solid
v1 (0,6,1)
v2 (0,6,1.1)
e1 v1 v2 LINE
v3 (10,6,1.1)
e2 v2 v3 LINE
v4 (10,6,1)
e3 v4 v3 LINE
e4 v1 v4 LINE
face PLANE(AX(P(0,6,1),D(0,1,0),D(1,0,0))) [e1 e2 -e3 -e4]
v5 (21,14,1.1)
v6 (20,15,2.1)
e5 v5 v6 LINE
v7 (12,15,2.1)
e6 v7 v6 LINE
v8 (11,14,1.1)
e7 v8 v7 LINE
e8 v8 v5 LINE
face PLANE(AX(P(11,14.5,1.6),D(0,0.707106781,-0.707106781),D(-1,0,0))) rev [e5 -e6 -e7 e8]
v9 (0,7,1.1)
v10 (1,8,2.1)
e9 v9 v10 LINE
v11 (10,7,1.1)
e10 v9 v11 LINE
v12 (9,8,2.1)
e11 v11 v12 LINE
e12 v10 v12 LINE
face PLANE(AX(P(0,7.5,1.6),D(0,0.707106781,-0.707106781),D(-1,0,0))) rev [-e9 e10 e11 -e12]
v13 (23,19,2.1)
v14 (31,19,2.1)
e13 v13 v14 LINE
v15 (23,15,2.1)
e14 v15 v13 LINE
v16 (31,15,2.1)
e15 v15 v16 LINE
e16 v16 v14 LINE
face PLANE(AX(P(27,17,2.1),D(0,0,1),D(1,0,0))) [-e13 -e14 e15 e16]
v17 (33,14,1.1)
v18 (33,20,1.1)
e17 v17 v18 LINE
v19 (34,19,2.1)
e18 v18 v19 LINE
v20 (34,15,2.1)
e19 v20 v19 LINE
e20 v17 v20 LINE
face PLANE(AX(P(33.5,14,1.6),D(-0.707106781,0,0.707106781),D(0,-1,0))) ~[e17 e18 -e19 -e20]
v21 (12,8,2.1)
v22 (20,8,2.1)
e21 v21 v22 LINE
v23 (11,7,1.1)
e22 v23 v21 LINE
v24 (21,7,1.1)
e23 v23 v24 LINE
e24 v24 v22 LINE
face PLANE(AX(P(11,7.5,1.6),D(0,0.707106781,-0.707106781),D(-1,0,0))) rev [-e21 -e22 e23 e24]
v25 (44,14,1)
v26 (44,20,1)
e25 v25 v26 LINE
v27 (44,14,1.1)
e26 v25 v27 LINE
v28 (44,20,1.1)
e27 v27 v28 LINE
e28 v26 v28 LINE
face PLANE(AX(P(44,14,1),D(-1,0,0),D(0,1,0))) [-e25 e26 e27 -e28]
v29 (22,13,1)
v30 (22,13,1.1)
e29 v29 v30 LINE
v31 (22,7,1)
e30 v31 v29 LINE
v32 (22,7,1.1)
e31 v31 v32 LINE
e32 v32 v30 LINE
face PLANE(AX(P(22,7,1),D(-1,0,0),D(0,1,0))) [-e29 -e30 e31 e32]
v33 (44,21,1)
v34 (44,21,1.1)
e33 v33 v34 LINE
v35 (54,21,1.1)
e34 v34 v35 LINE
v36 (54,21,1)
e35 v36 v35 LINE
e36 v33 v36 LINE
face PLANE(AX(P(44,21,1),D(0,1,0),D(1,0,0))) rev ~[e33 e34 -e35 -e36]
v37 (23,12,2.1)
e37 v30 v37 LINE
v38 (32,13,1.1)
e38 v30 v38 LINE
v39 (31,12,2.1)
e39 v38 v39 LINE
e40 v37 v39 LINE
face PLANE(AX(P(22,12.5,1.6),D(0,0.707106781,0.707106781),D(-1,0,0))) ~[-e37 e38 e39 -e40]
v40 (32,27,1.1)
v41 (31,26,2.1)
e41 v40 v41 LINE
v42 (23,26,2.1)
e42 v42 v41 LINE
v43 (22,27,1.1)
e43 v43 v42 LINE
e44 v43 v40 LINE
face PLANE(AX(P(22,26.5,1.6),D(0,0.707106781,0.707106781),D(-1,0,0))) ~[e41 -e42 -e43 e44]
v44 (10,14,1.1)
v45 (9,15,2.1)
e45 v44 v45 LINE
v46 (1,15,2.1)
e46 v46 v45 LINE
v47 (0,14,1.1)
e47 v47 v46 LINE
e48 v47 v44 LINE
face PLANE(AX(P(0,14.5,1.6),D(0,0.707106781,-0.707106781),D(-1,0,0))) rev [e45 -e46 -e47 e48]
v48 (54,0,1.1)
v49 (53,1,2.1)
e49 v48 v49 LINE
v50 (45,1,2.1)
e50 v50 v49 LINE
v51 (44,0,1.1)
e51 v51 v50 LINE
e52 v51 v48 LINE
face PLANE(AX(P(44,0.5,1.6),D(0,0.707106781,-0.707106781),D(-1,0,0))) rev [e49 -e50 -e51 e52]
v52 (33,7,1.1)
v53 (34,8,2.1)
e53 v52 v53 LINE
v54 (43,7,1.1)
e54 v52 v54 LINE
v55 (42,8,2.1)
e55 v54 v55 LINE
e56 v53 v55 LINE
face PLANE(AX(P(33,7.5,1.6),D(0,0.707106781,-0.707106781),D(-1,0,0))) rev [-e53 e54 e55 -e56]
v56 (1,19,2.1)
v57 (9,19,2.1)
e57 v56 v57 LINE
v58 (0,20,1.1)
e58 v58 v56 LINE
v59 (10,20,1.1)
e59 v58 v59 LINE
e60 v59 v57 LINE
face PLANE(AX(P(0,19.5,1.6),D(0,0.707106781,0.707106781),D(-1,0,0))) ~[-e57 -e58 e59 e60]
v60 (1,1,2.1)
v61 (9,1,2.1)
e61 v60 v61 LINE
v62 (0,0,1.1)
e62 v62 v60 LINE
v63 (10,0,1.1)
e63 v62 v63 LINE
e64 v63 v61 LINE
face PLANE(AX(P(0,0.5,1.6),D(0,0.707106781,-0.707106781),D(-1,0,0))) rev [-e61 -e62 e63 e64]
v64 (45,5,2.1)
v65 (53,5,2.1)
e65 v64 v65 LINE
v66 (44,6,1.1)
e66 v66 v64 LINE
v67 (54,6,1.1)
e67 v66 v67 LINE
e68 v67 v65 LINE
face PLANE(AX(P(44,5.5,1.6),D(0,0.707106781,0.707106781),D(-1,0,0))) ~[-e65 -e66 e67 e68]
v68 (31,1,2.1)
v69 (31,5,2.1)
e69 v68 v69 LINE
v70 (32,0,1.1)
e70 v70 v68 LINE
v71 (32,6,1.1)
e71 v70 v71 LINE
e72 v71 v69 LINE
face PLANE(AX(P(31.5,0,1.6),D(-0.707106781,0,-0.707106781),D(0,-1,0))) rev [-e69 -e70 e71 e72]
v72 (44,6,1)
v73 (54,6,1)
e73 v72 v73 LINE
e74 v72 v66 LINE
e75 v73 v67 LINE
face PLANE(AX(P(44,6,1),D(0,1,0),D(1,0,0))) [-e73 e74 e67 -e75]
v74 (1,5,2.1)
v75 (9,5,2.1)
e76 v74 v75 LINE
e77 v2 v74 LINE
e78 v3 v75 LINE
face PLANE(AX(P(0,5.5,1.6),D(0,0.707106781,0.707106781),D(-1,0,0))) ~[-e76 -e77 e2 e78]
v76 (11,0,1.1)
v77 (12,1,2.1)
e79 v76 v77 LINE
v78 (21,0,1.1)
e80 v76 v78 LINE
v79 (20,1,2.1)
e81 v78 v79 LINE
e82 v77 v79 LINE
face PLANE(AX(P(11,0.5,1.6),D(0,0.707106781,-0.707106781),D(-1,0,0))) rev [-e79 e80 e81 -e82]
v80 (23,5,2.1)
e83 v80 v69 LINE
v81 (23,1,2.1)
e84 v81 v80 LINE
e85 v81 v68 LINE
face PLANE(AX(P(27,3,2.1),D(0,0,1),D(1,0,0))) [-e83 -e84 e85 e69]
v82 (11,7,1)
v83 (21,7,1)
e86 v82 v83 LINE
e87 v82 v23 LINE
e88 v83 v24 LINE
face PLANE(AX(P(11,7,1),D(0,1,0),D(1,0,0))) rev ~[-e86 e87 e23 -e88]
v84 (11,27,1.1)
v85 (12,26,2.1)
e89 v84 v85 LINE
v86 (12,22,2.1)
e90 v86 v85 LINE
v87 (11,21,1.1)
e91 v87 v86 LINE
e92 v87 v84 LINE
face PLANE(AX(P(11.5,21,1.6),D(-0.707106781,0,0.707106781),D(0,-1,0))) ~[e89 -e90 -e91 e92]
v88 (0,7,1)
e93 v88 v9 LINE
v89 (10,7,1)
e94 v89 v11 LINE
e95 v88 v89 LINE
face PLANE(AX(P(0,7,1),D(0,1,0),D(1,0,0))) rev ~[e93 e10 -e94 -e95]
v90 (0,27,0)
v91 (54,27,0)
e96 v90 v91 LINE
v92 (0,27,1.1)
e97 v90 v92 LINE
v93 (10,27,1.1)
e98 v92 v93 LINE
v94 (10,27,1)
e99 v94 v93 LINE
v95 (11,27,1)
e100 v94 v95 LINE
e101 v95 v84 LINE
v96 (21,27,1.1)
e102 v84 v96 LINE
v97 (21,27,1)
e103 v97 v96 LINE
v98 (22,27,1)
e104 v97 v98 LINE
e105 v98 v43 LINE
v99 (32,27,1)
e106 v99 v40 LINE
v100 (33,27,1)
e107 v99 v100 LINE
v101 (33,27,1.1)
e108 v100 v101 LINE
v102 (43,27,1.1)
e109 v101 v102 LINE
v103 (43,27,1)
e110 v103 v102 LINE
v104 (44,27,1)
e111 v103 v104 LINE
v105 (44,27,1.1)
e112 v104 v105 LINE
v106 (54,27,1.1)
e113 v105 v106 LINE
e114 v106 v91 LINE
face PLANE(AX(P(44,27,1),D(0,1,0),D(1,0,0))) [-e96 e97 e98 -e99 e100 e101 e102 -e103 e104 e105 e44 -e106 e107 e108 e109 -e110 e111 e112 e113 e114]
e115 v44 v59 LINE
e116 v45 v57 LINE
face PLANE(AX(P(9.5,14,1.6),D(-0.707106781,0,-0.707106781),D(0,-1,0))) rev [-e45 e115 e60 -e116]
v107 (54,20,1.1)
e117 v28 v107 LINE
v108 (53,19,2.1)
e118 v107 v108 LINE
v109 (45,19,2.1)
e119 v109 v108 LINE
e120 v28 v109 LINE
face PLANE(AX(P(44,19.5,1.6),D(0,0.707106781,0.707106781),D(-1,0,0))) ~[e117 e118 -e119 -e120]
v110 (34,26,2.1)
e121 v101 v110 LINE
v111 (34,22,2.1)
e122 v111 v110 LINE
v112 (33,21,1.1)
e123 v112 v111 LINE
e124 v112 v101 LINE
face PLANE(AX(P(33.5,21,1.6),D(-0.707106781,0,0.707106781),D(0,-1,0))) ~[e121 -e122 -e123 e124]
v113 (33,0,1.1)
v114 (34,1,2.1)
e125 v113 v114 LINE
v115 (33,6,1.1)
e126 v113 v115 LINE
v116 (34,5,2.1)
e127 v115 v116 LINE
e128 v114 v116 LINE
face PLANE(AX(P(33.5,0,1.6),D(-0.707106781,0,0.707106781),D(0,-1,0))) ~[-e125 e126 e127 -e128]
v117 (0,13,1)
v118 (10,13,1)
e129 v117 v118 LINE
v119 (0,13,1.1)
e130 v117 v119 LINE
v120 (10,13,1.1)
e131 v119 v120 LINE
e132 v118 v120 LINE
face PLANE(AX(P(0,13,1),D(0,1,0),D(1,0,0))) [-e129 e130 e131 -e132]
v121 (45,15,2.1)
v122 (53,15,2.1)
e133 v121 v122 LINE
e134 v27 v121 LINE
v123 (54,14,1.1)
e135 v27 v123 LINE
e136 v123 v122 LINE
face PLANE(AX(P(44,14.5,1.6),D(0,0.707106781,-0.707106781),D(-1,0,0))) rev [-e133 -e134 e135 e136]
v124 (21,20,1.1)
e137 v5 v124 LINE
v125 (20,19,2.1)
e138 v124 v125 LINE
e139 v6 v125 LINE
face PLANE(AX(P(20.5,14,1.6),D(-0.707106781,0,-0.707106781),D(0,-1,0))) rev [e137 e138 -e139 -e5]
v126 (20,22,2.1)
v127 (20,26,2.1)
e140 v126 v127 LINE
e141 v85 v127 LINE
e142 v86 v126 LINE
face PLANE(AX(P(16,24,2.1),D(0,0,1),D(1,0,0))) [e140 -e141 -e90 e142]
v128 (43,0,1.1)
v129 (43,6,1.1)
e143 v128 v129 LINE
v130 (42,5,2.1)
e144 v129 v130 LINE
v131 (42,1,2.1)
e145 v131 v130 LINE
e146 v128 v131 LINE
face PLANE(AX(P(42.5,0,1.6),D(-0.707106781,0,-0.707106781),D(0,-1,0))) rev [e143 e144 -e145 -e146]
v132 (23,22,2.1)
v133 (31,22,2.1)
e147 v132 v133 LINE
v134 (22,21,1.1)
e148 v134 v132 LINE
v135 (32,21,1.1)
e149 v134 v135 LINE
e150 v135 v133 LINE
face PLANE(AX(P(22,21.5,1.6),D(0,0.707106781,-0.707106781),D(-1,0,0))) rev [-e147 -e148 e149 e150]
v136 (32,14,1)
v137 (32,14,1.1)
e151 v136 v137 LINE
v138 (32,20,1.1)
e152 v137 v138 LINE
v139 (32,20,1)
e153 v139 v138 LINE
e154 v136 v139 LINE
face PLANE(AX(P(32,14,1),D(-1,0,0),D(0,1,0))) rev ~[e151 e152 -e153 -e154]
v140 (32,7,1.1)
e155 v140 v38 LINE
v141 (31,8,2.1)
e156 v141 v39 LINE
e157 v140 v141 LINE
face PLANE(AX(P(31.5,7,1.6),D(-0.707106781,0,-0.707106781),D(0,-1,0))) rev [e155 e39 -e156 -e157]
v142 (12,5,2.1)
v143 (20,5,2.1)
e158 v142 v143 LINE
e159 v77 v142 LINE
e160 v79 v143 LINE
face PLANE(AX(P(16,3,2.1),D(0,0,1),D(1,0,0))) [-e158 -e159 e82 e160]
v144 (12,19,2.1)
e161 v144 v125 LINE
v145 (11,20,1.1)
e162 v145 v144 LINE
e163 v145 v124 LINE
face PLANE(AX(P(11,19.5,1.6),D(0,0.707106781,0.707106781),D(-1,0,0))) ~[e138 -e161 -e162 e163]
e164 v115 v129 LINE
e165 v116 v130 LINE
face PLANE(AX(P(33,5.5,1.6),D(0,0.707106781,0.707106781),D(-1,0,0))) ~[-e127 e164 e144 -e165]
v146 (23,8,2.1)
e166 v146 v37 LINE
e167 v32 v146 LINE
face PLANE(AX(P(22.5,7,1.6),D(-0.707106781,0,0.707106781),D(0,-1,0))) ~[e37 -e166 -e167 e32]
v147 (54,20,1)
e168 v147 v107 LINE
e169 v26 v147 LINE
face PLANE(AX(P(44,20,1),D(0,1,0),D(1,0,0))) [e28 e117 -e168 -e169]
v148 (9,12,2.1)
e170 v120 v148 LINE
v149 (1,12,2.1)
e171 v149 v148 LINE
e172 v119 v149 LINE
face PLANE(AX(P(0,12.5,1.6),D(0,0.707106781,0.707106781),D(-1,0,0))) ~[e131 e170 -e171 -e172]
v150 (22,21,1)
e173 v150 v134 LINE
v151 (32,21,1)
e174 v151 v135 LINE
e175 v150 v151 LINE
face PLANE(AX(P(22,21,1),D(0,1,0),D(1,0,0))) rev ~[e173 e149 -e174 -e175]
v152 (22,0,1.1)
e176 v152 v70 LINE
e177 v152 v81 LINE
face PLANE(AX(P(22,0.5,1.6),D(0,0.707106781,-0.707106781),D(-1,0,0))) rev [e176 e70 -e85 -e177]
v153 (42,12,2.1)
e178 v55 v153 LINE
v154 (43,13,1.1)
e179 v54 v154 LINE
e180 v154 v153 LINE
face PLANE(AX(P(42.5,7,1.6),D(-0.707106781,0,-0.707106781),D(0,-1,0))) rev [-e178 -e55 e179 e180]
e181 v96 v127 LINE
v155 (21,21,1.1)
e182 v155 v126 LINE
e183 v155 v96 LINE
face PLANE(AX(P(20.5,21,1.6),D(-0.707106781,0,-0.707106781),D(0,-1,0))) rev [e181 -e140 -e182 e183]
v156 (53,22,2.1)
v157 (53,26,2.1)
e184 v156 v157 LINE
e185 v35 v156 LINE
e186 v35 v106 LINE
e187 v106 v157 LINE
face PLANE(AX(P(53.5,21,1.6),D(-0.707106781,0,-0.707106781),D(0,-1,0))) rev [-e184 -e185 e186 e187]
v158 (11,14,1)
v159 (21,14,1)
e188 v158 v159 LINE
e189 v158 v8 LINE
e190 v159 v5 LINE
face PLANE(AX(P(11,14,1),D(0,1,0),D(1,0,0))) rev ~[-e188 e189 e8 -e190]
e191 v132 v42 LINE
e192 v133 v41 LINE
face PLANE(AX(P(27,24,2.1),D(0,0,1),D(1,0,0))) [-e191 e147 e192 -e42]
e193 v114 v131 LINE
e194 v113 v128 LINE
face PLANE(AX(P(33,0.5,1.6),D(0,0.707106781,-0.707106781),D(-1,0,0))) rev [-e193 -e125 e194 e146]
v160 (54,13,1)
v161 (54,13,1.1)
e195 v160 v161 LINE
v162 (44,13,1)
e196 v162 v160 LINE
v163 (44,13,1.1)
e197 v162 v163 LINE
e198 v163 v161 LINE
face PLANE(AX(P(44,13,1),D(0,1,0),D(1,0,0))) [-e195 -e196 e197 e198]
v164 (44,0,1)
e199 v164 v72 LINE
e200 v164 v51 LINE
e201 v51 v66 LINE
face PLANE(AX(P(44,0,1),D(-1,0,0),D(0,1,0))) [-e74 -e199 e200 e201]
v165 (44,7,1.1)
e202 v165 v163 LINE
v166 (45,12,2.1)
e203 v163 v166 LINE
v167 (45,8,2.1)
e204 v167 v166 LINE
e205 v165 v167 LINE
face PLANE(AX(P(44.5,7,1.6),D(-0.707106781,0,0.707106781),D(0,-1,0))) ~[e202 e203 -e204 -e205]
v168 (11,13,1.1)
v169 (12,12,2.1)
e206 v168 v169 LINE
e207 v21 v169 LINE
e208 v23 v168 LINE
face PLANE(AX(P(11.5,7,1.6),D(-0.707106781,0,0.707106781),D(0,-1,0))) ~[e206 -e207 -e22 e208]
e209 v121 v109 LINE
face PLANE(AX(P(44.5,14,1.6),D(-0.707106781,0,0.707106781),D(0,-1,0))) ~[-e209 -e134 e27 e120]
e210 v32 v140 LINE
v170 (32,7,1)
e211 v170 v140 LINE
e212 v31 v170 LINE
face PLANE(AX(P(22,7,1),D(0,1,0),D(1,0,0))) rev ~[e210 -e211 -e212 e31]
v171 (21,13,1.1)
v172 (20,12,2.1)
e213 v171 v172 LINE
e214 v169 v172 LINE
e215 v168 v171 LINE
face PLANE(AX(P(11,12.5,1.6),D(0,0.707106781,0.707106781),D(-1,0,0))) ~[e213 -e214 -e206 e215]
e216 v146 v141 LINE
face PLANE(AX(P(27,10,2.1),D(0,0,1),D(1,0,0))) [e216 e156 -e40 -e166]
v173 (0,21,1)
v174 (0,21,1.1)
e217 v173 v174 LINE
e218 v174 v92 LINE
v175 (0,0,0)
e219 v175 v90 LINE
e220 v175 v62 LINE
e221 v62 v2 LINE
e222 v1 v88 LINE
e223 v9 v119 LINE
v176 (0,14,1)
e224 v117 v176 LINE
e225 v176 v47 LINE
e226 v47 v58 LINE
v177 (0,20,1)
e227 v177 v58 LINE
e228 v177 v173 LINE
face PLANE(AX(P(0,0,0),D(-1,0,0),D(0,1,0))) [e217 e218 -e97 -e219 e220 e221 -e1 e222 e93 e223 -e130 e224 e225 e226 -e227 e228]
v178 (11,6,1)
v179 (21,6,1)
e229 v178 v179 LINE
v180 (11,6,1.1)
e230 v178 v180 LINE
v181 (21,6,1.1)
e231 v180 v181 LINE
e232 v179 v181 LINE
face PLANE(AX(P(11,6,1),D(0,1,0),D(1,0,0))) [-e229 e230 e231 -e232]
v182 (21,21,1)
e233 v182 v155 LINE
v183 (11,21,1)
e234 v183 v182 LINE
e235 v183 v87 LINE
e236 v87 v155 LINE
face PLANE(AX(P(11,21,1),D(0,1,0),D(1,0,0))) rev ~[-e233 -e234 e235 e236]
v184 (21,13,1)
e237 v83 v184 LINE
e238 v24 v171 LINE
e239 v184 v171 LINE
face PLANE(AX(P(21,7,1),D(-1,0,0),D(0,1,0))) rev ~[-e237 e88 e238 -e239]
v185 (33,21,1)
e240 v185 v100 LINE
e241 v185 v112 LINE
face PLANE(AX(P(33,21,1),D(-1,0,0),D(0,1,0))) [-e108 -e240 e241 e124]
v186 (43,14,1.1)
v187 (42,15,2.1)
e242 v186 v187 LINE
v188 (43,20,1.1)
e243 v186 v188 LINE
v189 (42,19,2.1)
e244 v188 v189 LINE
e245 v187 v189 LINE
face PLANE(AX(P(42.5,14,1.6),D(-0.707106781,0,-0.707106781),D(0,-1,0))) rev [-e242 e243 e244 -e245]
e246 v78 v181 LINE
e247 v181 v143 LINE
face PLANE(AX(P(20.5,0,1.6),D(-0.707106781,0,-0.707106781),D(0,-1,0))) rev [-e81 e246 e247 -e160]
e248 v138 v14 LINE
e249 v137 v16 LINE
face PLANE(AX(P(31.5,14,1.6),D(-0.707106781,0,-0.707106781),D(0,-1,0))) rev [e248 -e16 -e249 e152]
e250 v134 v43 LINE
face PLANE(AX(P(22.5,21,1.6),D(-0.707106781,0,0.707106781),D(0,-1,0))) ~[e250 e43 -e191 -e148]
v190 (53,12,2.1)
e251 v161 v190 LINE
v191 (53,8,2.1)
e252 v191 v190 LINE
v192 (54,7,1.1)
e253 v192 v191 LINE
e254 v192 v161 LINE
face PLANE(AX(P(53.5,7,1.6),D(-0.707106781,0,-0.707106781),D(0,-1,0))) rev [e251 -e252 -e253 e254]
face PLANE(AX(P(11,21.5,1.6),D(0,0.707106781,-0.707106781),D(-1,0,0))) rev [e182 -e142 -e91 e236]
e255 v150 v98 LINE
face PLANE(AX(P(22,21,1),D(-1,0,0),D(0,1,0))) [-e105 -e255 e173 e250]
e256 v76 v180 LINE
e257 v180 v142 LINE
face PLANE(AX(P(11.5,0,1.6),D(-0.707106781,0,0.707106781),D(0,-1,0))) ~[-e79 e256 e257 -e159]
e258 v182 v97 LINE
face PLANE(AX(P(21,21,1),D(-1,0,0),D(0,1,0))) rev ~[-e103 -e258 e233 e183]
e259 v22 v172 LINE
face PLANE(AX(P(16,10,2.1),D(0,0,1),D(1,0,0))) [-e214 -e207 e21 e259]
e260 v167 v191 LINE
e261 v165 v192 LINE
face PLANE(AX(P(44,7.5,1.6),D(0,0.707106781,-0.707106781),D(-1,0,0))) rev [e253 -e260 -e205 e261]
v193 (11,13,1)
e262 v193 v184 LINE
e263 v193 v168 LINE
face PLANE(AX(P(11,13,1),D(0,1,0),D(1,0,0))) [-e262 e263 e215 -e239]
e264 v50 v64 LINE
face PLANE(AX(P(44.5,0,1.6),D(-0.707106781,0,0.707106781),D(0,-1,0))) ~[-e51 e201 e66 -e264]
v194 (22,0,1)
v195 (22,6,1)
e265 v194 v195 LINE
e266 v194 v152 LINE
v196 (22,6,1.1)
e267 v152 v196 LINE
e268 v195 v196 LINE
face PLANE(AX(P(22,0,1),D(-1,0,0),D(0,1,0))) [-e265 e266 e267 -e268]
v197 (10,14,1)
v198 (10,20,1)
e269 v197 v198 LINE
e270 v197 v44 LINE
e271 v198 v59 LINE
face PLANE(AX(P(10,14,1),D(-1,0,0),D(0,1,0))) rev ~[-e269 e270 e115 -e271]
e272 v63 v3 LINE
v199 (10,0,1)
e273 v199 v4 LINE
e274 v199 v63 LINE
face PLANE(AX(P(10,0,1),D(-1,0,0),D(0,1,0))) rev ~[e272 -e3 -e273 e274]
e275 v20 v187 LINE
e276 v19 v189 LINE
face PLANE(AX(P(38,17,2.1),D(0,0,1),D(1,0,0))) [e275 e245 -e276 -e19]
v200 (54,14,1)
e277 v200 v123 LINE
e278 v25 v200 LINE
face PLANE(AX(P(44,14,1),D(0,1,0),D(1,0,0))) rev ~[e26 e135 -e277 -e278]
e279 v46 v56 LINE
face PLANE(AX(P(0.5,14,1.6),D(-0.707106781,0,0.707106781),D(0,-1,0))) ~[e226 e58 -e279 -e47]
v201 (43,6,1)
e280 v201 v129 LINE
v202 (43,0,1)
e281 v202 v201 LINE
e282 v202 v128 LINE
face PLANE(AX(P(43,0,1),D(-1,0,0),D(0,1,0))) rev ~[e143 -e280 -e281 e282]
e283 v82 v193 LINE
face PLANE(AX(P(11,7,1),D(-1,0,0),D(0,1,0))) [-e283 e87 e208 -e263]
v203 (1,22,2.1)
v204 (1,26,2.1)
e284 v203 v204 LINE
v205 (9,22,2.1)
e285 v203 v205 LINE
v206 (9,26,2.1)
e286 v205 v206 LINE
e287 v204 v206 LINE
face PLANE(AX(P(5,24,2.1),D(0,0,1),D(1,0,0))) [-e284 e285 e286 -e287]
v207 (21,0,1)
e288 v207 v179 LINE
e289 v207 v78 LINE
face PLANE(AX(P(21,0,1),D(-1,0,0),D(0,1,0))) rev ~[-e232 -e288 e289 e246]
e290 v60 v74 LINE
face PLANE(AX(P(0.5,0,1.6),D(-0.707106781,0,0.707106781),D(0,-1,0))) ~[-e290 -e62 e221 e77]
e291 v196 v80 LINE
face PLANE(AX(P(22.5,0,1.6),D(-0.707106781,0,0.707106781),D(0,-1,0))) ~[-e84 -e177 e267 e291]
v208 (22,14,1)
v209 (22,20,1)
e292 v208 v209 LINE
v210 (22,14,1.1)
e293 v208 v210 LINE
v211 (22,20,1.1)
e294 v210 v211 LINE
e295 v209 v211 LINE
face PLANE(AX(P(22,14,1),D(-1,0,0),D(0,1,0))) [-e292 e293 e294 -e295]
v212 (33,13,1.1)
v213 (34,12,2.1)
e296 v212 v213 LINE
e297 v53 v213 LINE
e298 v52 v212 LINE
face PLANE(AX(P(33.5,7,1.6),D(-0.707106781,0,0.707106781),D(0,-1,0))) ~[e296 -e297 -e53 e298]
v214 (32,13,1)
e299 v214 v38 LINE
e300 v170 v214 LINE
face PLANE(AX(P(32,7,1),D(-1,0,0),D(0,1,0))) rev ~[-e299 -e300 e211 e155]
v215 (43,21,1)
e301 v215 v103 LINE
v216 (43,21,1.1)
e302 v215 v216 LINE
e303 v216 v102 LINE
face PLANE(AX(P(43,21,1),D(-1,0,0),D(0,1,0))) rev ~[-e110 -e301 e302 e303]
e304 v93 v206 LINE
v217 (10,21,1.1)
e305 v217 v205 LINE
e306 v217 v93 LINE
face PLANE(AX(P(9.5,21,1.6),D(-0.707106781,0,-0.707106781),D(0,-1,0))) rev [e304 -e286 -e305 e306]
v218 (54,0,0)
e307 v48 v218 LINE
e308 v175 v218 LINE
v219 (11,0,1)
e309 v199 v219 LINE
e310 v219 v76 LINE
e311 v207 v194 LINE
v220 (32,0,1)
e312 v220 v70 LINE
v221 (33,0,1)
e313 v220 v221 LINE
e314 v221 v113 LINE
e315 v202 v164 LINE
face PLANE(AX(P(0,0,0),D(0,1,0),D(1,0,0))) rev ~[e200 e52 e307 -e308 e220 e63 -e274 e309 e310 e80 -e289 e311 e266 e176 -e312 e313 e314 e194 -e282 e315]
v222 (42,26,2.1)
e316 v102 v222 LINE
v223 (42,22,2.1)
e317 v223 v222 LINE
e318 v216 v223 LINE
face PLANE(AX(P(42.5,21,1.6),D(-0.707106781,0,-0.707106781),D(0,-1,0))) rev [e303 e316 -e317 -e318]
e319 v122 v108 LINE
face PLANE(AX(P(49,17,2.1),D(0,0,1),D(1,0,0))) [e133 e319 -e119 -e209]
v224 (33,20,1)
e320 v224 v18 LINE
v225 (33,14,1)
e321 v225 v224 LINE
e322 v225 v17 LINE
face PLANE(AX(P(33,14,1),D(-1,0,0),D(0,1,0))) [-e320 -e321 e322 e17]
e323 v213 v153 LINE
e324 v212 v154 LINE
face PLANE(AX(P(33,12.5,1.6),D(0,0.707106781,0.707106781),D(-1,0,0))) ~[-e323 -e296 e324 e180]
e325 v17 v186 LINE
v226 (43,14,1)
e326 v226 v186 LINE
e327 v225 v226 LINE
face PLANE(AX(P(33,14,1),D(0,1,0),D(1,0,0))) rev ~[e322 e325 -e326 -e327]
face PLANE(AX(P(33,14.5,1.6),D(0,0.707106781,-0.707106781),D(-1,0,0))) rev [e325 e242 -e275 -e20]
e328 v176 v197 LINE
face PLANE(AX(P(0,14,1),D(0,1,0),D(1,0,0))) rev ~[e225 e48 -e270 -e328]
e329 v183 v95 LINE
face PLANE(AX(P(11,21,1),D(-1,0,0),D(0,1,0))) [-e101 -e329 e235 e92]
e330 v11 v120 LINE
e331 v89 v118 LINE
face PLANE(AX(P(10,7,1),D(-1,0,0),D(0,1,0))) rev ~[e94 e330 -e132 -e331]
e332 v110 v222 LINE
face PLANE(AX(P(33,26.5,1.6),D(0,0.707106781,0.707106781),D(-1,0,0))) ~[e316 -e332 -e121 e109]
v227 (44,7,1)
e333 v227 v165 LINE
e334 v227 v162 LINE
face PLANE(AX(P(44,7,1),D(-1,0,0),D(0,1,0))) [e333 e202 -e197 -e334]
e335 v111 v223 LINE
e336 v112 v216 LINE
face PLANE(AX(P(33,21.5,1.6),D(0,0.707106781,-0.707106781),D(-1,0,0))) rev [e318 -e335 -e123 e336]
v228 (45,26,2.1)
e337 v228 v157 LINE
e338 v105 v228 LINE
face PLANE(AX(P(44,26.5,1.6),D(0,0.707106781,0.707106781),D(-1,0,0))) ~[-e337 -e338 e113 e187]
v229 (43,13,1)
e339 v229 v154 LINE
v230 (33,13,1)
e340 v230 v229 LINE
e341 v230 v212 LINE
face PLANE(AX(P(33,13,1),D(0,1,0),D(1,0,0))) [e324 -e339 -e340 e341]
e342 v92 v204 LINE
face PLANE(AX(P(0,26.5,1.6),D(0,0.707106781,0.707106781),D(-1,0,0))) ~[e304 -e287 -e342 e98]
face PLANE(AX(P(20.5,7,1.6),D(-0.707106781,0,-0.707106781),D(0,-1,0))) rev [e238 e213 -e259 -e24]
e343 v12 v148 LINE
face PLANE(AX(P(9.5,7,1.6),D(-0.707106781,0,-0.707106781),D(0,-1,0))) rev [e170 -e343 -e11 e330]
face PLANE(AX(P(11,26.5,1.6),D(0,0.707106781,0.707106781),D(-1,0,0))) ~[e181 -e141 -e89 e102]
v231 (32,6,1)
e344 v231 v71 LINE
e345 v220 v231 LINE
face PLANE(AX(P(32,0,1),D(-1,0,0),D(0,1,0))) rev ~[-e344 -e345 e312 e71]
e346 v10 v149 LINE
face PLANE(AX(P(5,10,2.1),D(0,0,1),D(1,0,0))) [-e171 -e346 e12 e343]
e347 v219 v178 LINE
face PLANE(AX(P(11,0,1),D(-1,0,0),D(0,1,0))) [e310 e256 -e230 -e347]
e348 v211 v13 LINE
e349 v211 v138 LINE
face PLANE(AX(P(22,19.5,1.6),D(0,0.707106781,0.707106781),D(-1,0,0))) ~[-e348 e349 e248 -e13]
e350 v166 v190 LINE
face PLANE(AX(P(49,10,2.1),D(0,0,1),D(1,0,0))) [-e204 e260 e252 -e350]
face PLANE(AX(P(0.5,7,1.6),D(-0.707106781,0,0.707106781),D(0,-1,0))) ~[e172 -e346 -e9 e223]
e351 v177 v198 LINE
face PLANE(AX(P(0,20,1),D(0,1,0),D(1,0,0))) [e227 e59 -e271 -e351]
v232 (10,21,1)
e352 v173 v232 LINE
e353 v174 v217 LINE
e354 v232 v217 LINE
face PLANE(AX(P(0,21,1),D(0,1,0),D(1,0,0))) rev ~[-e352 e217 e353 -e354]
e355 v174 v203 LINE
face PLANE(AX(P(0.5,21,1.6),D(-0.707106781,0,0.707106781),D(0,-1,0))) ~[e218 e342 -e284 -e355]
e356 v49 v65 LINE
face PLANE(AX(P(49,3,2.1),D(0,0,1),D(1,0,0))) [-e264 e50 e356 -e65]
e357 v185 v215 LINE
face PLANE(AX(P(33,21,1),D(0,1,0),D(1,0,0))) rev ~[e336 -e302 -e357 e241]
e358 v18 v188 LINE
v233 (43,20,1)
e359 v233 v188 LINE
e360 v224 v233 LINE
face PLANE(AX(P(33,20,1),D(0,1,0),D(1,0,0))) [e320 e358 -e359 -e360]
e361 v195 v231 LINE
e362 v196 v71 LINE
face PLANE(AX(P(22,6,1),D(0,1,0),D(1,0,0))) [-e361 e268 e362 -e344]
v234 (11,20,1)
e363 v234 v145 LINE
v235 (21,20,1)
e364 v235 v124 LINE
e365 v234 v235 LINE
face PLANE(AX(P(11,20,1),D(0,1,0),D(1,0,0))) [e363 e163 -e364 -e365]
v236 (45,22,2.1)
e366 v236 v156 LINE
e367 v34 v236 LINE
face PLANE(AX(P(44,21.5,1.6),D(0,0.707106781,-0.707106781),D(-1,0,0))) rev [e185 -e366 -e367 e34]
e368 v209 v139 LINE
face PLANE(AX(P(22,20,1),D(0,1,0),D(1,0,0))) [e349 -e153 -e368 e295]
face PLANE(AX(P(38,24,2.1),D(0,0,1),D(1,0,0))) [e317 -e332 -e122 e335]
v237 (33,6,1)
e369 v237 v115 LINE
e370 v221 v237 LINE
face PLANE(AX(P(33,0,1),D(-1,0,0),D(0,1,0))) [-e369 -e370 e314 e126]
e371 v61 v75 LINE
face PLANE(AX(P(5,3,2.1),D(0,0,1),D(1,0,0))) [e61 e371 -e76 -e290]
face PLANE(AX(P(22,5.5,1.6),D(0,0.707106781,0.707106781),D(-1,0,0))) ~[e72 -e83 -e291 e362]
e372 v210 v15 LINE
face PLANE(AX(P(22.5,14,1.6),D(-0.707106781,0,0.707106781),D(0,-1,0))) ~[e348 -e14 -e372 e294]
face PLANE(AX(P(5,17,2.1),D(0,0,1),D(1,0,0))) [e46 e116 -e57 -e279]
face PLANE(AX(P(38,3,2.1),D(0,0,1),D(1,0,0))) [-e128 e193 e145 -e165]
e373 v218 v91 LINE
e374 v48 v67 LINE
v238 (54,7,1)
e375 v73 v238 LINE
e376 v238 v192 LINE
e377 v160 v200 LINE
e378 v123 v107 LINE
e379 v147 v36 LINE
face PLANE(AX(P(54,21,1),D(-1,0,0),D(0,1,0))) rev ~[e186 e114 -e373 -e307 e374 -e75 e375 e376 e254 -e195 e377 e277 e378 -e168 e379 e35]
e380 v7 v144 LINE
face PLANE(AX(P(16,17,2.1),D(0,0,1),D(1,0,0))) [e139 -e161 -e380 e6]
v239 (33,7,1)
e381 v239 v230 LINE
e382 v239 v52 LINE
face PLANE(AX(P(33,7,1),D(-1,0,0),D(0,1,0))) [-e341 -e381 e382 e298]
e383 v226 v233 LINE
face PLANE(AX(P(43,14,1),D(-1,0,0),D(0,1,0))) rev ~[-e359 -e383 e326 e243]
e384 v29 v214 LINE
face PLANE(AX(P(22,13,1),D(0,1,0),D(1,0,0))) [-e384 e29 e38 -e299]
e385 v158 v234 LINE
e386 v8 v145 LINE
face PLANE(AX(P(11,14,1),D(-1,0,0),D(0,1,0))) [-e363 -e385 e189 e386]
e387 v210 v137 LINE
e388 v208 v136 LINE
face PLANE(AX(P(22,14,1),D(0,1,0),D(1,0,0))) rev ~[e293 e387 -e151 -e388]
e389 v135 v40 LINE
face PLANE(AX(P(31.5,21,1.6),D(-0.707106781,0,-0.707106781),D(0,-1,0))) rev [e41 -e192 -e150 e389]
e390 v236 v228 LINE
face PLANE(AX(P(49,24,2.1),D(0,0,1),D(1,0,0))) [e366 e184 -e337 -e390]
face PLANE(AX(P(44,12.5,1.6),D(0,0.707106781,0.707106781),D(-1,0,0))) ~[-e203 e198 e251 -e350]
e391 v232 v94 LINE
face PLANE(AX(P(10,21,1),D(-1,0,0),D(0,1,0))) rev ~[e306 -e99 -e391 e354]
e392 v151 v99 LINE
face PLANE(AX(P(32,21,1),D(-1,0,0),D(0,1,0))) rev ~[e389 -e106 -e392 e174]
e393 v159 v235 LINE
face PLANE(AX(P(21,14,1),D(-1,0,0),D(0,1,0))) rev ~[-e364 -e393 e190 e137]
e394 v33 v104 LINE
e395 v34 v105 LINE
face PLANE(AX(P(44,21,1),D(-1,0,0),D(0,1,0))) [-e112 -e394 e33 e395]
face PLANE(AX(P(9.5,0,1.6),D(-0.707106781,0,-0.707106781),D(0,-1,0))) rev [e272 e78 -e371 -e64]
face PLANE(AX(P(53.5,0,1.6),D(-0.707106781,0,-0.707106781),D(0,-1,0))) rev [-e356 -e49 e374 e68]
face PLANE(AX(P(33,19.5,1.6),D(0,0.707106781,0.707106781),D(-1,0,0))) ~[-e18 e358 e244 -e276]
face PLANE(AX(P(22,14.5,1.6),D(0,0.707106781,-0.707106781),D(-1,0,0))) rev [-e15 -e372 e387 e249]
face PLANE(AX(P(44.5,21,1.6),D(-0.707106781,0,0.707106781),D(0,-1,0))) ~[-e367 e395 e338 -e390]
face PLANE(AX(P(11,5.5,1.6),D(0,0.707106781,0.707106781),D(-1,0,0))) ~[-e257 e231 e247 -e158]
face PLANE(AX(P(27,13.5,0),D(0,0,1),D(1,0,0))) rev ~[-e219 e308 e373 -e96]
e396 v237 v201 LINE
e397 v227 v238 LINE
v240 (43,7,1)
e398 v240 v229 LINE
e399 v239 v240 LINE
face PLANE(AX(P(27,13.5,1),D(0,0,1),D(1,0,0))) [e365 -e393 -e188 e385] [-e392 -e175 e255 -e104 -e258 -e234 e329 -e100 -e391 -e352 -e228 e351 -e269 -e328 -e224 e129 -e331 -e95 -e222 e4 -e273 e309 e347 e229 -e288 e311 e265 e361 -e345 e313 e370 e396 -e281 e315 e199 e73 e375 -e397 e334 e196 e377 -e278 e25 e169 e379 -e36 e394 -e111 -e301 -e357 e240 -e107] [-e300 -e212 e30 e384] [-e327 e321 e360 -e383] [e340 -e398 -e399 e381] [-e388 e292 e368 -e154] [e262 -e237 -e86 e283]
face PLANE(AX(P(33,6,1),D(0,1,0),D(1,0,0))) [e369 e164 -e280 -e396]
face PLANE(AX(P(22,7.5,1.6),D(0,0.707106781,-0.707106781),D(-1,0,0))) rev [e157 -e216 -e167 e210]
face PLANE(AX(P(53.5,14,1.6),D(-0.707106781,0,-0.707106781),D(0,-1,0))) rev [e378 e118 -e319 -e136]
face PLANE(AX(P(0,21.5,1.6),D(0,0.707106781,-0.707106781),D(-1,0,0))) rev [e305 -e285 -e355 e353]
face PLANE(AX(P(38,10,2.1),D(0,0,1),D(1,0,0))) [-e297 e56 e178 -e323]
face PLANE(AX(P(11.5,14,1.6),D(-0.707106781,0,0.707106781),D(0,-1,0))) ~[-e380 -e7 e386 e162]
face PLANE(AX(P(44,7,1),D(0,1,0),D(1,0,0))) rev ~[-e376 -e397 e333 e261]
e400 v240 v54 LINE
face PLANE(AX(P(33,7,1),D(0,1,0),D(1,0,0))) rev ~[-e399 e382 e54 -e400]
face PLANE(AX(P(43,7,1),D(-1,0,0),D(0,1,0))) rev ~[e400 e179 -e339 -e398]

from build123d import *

# Parameters (mm, degrees)
BOX001_W      = 10
BOX001_H      = 6
BOX001_DEPTH  = 1.1
CHAMFER_SIZE  = 1
ARRAY_X_COUNT = 5
ARRAY_X_PITCH = 11
ARRAY_Y_COUNT = 4
ARRAY_Y_PITCH = 7
BOX_W         = 54
BOX_H         = 27
BOX_DEPTH     = 1


with BuildPart() as array_onzas:
    # Box001 → Box001 (new body)
    with BuildSketch(Plane.XY.offset(1)):
        with Locations((5, 3)):
            Rectangle(BOX001_W, BOX001_H)
    extrude(amount=BOX001_DEPTH)

    # Chamfer
    chamfer_edges = [array_onzas.edges().sort_by_distance(p)[0] for p in [
        (0, 3, 2.1),
        (10, 3, 2.1),
        (5, 0, 2.1),
        (5, 6, 2.1),
    ]]
    chamfer(chamfer_edges, length=CHAMFER_SIZE)

    # Array X: array_onzas ×5


with BuildPart() as array_onzas_1:
    add(array_onzas.part)
    with Locations(*[(i * ARRAY_X_PITCH, 0, 0) for i in range(1, ARRAY_X_COUNT)]):
        add(array_onzas.part)

    # Array Y: array_onzas ×4


with BuildPart() as array_onzas_2:
    add(array_onzas_1.part)
    with Locations(*[(0, i * ARRAY_Y_PITCH, 0) for i in range(1, ARRAY_Y_COUNT)]):
        add(array_onzas_1.part)


with BuildPart() as tableta:
    # Box → Box (new body)
    with BuildSketch(Plane.XY):
        with Locations((27, 13.5)):
            Rectangle(BOX_W, BOX_H)
    extrude(amount=BOX_DEPTH)

    # Fusion: union array_onzas
    add(array_onzas_2.part)


solid = tableta.part
